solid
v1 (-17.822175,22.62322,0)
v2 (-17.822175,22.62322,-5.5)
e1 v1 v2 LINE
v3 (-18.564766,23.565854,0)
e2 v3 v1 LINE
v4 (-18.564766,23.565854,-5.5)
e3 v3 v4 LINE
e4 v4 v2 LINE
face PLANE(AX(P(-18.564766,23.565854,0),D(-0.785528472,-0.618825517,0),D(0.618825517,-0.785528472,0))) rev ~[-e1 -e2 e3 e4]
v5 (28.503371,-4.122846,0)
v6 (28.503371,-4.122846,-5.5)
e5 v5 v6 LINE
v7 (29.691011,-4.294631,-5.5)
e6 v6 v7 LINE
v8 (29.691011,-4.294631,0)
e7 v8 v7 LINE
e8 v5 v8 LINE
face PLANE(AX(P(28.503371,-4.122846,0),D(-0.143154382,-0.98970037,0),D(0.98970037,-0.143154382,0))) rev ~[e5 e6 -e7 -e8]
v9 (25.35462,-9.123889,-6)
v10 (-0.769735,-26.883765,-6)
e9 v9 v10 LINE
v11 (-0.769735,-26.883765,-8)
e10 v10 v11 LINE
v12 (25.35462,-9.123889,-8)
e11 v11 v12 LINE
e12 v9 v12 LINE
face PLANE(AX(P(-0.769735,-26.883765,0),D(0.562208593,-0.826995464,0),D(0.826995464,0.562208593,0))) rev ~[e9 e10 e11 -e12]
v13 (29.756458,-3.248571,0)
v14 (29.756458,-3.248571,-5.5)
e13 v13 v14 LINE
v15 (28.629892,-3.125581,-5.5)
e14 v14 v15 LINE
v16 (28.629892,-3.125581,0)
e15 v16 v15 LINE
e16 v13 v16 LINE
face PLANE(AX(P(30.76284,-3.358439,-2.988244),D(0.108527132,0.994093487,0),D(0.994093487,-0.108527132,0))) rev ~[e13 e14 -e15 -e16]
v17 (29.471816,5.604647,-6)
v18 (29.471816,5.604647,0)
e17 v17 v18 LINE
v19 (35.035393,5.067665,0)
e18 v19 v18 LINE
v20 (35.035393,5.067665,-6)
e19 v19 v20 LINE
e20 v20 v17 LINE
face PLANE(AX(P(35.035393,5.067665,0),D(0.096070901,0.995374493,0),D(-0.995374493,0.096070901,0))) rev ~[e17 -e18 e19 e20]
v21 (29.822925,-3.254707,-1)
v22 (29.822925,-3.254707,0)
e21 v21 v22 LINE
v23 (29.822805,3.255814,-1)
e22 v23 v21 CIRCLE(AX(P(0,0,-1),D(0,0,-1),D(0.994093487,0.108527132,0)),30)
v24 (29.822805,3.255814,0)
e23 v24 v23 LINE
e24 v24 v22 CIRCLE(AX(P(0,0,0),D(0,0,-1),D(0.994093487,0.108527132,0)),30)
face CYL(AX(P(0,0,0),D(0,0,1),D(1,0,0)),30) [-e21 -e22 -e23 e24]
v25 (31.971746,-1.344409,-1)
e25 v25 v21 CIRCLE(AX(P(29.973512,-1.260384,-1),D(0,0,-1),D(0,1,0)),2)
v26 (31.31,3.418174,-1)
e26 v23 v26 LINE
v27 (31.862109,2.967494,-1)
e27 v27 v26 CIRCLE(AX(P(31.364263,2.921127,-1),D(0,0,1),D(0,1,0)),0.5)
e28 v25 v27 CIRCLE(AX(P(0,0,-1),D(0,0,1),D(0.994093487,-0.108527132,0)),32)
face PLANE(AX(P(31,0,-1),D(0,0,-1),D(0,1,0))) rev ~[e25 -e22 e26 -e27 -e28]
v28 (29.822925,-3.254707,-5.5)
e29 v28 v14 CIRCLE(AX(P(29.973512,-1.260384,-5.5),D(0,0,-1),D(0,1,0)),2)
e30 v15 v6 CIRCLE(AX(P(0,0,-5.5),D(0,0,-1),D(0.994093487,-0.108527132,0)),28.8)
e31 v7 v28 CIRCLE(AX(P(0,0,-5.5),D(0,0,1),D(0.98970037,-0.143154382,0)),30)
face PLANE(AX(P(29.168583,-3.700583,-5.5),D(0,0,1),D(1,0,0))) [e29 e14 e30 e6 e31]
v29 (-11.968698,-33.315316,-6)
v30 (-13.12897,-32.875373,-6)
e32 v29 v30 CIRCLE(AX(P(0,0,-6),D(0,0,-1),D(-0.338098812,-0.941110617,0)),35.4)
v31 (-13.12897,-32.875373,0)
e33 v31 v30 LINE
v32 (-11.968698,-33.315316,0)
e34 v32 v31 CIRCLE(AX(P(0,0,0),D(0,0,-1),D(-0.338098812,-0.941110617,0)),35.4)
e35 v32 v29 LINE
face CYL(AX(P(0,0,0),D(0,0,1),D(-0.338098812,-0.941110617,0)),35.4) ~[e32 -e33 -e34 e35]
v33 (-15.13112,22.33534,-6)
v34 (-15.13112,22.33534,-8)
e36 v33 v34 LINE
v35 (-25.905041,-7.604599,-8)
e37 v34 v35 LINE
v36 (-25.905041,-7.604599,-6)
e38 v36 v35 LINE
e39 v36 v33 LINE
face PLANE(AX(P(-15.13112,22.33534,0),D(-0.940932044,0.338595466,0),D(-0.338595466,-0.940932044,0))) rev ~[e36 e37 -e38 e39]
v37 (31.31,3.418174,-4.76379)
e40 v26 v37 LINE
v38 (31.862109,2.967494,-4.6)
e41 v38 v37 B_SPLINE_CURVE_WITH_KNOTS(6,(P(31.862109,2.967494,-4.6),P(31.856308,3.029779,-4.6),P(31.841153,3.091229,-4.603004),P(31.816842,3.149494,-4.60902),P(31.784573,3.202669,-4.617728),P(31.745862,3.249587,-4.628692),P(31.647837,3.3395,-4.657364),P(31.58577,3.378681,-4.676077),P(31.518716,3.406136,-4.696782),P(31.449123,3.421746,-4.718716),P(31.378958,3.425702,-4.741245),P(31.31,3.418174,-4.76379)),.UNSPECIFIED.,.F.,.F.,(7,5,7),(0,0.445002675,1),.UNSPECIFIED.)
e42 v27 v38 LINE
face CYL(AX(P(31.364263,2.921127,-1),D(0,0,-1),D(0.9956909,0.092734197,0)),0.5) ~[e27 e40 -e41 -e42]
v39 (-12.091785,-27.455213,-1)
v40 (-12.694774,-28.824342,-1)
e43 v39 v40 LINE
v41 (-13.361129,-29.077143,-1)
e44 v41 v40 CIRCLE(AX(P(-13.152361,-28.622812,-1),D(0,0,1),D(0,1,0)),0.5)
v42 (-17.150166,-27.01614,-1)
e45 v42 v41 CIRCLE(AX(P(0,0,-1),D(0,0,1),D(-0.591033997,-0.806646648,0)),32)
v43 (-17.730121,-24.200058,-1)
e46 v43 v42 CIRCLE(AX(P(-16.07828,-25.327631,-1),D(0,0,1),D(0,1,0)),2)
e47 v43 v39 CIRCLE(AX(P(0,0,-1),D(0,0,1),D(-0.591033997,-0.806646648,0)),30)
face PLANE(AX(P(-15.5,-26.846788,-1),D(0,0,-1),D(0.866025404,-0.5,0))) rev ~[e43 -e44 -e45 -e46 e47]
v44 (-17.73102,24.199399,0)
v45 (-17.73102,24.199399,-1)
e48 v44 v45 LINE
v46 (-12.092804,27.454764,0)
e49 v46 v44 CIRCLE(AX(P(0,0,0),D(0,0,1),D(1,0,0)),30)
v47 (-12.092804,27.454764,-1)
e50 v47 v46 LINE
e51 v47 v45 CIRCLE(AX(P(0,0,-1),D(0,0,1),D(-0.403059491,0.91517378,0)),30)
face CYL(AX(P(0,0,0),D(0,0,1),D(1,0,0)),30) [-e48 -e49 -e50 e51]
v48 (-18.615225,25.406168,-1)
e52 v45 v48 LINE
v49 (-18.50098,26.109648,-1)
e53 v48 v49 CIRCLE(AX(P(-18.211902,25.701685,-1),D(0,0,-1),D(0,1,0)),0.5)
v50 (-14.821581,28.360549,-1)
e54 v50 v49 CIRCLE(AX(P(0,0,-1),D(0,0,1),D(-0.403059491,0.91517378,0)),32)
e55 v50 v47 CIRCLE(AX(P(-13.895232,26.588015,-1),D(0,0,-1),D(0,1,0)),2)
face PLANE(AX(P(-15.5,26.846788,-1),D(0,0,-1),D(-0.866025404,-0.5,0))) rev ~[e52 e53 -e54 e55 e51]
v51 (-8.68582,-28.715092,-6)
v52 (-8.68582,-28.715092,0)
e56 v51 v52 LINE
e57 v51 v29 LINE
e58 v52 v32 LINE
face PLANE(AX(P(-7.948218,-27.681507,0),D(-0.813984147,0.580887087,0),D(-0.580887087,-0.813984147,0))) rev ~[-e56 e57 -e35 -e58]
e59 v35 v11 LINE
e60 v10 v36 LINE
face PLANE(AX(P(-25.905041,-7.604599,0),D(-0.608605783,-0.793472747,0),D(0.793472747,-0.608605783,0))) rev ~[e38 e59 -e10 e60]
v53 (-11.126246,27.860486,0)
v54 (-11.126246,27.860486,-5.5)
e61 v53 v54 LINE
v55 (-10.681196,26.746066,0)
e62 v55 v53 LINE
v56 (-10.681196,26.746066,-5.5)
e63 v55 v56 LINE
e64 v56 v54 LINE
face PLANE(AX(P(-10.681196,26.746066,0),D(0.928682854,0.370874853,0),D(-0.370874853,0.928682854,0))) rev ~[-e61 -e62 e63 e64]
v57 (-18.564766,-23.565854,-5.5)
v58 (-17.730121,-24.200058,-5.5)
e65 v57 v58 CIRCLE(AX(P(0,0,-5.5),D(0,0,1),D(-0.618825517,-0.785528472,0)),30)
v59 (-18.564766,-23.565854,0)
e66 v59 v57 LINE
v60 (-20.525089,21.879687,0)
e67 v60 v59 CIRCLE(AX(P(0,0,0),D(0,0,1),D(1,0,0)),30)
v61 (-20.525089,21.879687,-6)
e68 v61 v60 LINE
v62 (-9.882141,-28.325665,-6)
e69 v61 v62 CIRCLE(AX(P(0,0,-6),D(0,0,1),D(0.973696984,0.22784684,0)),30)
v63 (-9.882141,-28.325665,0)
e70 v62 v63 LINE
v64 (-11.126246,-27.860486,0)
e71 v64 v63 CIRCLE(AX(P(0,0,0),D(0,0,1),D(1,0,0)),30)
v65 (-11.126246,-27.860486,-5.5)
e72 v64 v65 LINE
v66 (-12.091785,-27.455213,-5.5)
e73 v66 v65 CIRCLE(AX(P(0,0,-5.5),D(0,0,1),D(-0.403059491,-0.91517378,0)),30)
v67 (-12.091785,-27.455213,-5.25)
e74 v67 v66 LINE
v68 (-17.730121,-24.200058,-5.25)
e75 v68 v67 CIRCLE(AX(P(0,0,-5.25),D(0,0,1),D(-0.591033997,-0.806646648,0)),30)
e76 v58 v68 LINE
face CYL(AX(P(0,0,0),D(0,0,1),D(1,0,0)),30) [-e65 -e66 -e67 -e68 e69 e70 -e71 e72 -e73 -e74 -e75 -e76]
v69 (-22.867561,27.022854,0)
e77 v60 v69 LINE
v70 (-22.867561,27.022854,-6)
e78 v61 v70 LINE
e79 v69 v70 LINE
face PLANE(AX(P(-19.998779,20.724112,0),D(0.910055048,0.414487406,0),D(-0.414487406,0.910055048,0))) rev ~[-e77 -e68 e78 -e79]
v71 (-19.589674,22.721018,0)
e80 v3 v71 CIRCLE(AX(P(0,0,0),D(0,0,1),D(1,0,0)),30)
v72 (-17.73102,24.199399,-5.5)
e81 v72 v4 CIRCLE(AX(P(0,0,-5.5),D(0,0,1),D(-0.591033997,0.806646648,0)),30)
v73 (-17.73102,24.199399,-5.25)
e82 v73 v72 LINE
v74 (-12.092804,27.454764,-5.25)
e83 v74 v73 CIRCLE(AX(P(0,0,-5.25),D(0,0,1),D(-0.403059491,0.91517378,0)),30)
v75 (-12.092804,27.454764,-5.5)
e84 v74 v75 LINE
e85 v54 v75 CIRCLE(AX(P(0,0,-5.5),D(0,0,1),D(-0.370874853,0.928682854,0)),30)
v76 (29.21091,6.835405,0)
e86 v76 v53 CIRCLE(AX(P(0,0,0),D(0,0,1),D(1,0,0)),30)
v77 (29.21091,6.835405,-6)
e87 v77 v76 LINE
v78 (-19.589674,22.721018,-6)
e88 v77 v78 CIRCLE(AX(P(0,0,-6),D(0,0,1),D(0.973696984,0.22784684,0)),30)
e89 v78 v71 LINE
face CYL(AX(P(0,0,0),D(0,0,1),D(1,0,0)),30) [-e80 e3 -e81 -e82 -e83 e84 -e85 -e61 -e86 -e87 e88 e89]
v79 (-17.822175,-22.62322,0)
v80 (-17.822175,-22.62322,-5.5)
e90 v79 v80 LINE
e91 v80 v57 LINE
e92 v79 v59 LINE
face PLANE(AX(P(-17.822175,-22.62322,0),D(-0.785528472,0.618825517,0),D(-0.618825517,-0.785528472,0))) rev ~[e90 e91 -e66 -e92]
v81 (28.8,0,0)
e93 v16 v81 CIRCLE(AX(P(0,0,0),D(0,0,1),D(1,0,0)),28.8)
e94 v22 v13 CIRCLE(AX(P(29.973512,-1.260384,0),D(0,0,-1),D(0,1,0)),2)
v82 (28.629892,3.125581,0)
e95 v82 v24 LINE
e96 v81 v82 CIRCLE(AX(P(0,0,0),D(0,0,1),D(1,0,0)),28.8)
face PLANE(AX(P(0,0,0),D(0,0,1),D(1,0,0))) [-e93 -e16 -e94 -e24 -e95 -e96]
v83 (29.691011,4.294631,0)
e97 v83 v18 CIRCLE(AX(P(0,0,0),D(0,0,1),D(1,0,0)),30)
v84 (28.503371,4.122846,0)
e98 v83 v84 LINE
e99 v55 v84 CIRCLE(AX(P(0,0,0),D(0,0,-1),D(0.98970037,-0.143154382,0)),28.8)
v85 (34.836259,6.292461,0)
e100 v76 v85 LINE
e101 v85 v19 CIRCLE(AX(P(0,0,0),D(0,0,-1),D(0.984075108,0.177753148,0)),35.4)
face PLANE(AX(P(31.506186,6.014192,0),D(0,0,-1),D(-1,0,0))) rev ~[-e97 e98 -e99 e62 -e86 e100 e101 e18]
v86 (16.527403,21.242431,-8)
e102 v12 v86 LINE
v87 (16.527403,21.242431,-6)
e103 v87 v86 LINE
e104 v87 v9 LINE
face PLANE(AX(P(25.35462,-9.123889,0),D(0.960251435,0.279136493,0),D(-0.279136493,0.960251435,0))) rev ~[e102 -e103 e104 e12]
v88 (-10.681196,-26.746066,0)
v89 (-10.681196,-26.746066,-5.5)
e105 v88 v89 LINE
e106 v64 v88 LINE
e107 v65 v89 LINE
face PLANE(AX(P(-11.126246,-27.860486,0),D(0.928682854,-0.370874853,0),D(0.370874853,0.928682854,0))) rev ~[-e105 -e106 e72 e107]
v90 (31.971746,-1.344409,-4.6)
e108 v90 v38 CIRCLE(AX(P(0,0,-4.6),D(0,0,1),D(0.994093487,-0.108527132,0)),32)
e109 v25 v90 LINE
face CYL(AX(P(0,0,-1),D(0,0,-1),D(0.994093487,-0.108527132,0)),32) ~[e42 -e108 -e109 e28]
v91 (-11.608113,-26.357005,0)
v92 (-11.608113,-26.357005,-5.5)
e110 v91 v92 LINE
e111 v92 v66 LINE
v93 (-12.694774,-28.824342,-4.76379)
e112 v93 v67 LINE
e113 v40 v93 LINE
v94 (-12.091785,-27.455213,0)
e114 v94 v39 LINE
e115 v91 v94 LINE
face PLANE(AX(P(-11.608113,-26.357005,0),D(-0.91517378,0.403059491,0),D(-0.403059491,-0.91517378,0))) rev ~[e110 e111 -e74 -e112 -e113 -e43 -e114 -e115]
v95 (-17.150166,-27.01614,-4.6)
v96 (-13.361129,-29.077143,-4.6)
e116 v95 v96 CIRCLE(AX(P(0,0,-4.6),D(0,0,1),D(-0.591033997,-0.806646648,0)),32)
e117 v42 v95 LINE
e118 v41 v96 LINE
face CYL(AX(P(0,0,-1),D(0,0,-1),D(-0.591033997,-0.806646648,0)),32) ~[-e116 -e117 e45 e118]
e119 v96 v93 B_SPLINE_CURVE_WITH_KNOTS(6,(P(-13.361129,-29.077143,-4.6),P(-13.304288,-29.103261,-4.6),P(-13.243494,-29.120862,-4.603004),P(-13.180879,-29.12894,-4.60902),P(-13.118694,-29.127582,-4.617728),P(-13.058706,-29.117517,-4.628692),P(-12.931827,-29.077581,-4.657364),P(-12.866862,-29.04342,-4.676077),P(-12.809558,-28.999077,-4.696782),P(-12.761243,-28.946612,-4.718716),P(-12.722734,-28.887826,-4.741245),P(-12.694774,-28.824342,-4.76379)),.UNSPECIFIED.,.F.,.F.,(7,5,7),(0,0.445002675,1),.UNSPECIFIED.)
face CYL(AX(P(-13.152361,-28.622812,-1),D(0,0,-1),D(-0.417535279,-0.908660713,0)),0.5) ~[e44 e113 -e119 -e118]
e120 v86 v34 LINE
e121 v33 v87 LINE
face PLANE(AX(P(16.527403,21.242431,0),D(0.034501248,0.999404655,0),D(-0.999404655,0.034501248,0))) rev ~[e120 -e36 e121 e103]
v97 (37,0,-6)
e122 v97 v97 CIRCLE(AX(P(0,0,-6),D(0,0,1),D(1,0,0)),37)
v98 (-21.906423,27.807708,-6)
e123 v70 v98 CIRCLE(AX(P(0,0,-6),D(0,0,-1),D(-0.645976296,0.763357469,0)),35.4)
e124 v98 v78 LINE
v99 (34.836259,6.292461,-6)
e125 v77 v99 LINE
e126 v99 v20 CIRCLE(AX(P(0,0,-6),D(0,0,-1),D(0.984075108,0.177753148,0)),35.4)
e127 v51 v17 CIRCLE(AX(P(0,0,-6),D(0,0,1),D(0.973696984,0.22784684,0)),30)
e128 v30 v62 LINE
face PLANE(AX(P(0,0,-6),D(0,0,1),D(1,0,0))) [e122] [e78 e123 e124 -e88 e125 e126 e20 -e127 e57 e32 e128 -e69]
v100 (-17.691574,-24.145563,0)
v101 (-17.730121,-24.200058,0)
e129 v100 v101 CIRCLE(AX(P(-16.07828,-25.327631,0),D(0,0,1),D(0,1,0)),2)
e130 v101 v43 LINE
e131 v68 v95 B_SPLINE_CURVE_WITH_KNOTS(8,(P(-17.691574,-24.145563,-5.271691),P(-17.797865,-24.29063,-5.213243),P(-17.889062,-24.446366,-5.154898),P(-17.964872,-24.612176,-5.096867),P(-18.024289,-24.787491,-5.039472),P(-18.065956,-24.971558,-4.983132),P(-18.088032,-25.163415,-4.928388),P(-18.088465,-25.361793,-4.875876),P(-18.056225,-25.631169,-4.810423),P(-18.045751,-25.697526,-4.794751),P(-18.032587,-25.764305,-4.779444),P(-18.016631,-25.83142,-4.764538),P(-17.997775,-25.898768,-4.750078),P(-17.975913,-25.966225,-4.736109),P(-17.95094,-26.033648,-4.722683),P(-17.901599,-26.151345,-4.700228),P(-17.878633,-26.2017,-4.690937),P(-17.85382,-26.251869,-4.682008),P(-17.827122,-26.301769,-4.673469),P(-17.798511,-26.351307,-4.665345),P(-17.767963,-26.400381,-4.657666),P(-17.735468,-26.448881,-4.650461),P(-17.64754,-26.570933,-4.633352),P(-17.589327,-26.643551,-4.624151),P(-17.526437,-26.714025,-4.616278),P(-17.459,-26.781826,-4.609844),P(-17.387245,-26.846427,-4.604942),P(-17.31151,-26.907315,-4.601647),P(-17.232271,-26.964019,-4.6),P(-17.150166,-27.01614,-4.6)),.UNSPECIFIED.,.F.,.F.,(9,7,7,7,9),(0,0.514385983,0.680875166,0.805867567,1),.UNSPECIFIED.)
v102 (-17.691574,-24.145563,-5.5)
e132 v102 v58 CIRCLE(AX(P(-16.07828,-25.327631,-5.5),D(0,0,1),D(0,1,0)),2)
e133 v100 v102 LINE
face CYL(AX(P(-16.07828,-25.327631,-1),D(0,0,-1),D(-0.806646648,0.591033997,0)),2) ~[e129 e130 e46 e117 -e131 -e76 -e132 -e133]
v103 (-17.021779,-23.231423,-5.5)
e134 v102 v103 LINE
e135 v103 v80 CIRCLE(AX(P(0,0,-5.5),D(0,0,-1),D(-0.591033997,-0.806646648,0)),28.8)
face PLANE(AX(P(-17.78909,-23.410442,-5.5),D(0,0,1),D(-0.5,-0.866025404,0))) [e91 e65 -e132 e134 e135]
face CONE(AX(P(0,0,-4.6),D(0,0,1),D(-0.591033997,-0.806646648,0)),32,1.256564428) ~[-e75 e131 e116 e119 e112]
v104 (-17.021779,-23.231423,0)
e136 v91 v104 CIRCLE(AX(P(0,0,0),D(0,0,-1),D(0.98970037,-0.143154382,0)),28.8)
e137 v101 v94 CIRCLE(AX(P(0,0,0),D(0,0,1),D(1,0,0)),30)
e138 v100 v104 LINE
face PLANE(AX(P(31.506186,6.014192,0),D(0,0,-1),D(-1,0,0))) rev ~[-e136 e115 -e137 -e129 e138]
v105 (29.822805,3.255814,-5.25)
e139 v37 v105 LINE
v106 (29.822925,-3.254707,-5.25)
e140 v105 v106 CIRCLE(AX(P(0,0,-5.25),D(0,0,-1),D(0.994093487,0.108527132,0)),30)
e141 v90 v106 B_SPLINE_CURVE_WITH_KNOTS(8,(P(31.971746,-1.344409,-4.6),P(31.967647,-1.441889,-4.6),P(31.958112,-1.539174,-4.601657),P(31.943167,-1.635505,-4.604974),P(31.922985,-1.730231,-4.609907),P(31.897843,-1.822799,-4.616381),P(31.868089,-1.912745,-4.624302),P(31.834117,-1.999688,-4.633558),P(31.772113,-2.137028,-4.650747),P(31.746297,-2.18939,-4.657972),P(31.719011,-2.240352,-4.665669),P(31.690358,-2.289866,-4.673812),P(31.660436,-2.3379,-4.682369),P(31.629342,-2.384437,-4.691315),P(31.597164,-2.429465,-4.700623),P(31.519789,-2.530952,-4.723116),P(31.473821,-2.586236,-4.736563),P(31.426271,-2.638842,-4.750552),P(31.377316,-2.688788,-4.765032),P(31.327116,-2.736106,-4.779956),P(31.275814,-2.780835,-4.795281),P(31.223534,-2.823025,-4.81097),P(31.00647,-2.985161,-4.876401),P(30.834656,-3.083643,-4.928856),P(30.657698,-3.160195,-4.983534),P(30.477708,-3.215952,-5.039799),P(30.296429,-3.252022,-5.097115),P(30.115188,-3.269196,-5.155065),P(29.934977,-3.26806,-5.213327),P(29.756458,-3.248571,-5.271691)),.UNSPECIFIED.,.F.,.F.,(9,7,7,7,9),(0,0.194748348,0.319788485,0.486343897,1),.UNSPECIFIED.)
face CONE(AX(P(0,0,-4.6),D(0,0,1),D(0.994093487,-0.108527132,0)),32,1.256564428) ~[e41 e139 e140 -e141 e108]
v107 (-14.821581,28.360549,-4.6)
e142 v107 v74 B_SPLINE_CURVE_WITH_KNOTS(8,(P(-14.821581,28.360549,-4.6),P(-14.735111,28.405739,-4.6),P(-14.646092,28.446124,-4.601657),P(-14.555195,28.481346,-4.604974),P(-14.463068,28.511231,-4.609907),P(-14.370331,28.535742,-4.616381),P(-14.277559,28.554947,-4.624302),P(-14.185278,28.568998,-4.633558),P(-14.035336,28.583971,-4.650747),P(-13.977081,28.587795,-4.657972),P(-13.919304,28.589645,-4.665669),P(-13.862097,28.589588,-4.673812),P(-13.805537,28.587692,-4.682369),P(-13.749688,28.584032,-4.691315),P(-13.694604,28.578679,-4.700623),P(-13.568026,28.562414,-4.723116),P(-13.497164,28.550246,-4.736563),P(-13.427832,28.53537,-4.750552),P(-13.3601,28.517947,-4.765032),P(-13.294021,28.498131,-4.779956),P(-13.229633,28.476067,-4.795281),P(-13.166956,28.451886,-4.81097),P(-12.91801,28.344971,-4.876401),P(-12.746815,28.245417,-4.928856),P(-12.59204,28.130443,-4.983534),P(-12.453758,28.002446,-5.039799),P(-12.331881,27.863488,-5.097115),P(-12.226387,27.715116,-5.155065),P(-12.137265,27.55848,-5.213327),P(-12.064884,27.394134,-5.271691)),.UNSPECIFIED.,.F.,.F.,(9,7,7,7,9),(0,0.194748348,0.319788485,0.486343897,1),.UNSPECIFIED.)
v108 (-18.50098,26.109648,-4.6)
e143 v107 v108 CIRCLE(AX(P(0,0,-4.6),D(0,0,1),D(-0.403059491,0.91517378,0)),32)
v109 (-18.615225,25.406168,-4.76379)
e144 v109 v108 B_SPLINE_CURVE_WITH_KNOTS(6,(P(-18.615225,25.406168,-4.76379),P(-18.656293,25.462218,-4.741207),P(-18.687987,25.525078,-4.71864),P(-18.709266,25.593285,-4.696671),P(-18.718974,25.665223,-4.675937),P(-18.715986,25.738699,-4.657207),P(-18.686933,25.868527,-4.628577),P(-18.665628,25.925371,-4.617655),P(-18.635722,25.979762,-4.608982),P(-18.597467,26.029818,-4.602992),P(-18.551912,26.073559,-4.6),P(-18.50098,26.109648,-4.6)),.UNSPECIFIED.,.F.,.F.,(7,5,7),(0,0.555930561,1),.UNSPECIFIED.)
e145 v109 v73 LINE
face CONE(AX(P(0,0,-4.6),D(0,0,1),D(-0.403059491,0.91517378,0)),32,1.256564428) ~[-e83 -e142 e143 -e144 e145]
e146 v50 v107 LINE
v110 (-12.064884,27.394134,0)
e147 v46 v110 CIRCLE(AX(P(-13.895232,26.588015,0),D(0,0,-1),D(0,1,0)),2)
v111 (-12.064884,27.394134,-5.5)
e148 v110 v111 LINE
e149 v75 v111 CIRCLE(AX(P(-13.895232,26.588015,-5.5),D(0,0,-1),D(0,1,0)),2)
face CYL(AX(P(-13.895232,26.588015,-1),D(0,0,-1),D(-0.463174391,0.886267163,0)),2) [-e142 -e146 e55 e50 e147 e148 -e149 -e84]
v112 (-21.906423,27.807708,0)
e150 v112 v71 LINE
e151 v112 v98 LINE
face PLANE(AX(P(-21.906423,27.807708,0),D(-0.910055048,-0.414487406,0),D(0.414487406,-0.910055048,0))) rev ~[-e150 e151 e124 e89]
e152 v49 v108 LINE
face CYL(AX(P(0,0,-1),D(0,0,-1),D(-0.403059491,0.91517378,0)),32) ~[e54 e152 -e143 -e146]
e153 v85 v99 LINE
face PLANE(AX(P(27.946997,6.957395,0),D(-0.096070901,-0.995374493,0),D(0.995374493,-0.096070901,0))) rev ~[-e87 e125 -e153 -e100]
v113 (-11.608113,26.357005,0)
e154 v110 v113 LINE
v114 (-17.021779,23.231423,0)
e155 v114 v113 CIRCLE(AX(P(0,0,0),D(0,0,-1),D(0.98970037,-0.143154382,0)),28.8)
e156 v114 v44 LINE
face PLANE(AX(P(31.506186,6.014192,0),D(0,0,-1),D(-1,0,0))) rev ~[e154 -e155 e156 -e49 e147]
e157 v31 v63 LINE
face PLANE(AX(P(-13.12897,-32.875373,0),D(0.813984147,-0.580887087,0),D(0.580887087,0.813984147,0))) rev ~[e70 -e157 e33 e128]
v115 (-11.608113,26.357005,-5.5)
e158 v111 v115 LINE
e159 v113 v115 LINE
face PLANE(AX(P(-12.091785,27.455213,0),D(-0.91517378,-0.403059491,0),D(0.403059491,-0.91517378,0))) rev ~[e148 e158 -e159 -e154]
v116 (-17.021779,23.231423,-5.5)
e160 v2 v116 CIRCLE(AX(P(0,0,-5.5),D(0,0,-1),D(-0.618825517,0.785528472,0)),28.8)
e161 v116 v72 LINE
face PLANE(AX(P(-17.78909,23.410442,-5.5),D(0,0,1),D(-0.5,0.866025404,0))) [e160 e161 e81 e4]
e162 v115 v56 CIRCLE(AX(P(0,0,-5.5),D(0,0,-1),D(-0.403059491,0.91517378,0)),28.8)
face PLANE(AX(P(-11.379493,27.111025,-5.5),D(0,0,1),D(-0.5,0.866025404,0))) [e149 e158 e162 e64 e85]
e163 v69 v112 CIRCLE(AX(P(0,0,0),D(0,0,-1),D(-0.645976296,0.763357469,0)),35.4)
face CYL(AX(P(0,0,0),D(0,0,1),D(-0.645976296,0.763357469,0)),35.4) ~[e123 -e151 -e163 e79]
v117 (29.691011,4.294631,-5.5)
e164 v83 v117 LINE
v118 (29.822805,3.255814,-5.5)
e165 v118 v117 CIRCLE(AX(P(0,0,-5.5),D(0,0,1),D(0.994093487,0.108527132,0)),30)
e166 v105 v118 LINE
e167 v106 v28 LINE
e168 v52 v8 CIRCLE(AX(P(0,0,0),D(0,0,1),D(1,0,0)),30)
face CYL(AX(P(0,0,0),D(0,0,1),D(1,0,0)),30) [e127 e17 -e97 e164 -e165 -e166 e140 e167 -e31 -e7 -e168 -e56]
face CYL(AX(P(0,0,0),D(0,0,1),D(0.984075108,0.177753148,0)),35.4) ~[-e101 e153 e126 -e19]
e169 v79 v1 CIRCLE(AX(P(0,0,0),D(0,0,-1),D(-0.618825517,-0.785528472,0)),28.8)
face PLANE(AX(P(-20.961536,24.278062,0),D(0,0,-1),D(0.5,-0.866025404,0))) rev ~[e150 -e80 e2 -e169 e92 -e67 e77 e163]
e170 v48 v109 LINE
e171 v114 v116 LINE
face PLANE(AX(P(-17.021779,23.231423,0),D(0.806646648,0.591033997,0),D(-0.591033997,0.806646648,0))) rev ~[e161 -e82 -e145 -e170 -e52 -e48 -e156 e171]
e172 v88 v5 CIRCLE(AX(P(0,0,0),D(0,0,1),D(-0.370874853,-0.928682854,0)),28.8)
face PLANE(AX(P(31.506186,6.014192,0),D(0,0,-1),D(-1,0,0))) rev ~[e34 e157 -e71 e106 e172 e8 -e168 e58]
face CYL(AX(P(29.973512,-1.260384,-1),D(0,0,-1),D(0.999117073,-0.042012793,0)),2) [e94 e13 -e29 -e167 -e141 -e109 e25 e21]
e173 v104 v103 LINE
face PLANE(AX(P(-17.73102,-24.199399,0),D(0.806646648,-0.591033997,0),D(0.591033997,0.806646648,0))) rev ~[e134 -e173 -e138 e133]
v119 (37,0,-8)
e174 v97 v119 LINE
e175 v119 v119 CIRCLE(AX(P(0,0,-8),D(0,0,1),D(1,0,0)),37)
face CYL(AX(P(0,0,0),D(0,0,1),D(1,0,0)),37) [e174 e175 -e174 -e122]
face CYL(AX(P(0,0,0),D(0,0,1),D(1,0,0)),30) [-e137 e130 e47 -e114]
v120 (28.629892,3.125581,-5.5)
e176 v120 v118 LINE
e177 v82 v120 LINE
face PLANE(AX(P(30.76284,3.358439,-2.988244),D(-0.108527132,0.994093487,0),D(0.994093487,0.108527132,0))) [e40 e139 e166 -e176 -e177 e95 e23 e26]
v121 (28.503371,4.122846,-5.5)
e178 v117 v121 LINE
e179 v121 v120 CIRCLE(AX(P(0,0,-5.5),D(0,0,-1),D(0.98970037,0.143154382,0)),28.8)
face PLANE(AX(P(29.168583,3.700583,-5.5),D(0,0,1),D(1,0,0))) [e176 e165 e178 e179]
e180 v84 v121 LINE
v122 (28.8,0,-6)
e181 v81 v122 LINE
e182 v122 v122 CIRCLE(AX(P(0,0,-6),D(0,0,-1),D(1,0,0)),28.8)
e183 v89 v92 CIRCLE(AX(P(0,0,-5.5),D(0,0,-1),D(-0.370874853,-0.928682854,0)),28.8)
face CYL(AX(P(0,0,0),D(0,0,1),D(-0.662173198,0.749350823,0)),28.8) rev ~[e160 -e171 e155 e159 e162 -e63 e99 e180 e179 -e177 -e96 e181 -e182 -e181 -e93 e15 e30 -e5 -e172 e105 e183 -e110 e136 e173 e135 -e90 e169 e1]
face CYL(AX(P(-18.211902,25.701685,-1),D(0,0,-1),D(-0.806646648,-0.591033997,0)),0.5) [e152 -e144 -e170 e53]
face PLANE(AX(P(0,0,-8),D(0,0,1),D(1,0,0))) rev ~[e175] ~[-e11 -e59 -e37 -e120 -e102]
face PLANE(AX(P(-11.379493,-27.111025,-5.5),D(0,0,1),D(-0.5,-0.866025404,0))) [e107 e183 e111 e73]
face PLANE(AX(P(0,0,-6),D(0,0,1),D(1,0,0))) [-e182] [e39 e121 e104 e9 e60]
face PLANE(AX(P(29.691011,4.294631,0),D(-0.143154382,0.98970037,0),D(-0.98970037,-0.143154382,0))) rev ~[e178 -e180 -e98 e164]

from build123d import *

# Parameters (mm, degrees)
SKETCH55_R               = 37
BOSS_EXTRUDE17_DEPTH     = 8
SKETCH56_R               = 37
SKETCH56_R_2             = 30
SKETCH56_R_3             = 28.8
CUT_EXTRUDE20_DEPTH      = 6
CUT_EXTRUDE21_DEPTH      = 5.5
FILLET1_R                = 0.5
FILLET2_R                = 2
BOSS_EXTRUDE18_START     = 6
BOSS_EXTRUDE18_DEPTH     = 6
CIRPATTERN1_COUNT        = 3
FILLET1_OF_CIRPATTERN1_R = 0.5
FILLET2_OF_CIRPATTERN1_R = 2


with BuildPart() as part:
    # Sketch55 → Boss-Extrude17 (new body)
    with BuildSketch(Plane.XY):
        Circle(SKETCH55_R)
        Polygon((-15.131119551888249, 22.33533974306702), (-25.90504070234881, -7.604599443277265), (-0.7697350404796751, -26.883764916532357), (25.354620105449243, -9.123888866834614), (16.52740298769779, 21.24243055544057), align=None, mode=Mode.SUBTRACT)
    extrude(amount=-BOSS_EXTRUDE17_DEPTH)

    # Sketch56 → Cut-Extrude20 (cut)
    # profile 1 of 2: a face of its own
    with BuildSketch(Plane.XY):
        Circle(SKETCH56_R)
        Circle(SKETCH56_R_2, mode=Mode.SUBTRACT)
    # profile 2 of 2: a face of its own
    with BuildSketch(Plane.XY):
        Circle(SKETCH56_R_3)
    extrude(amount=-CUT_EXTRUDE20_DEPTH, mode=Mode.SUBTRACT)

    # Sweep1: sweep along a path in Sketch58
    with BuildLine(Plane.XY.offset(-1)) as sweep1_path:
        ThreePointArc((32.05951496825865, -3.5), (32.25, 0), (32.05951496825865, 3.5))
    # Sketch59 → Sweep1 (sweep)
    with BuildSketch(Plane(origin=(0, 0, 0), x_dir=(1, 0, 0), z_dir=(0, 1, 0))):
        Polygon((32, 1.0000000000000009), (32, 4.6), (30, 5.25), (30, 1.0000000000000009), align=None)
    sweep1 = sweep(path=sweep1_path.line)

    # Sketch60 → Cut-Extrude21 (cut)
    with BuildSketch(Plane.XY):
        with BuildLine():
            Line((29.691011106511933, 4.294631471149185), (28.503370662251456, 4.122846212303217))
            ThreePointArc((28.503370662251456, 4.122846212303217), (28.570983048615947, 3.624765873225473), (28.629892436770504, 3.125581395348848))
            Line((28.629892436770504, 3.125581395348848), (29.822804621635946, 3.255813953488383))
            ThreePointArc((29.822804621635946, 3.255813953488383), (29.761440675641612, 3.7757977846098676), (29.691011106511933, 4.294631471149185))
        make_face()
        with BuildLine():
            Line((29.822804621635946, -3.255813953488384), (28.629892436770504, -3.1255813953488487))
            ThreePointArc((28.629892436770504, -3.1255813953488487), (28.57098304861595, -3.6247658732254733), (28.503370662251456, -4.122846212303217))
            Line((28.503370662251456, -4.122846212303217), (29.691011106511933, -4.294631471149185))
            ThreePointArc((29.691011106511933, -4.294631471149185), (29.761440675641612, -3.7757977846098676), (29.822804621635946, -3.255813953488384))
        make_face()
    cut_extrude21 = extrude(amount=-CUT_EXTRUDE21_DEPTH, mode=Mode.SUBTRACT)

    # Fillet1
    fillet1_edges = [part.edges().sort_by_distance(p)[0] for p in [
        (31.810991596411686, 3.472868217054266, -2.8000000000000003),
    ]]
    fillet(fillet1_edges, radius=FILLET1_R)

    # Fillet2
    fillet2_edges = [part.edges().sort_by_distance(p)[0] for p in [
        (31.810991596411686, -3.4728682170542657, -2.8000000000000003),
    ]]
    fillet(fillet2_edges, radius=FILLET2_R)

    # Sketch62 → Boss-Extrude18 (add)
    with BuildSketch(Plane.XY.offset(-6).offset(BOSS_EXTRUDE18_START)):
        with BuildLine():
            Line((35.035393105684086, 5.067665135956038), (28.225251300389694, 5.724961923877751))
            ThreePointArc((28.225251300389694, 5.724961923877751), (28.092883468127496, 6.342704348005581), (27.946997326196957, 6.957394659607891))
            Line((27.946997326196957, 6.957394659607891), (34.836258824834346, 6.29246144915893))
            ThreePointArc((34.836258824834346, 6.29246144915893), (34.94119298731927, 5.680935893223171), (35.035393105684086, 5.067665135956038))
        make_face()
    boss_extrude18 = extrude(amount=-BOSS_EXTRUDE18_DEPTH)

    # CirPattern1: Sweep1, Cut-Extrude21, Boss-Extrude18 ×3 about axis
    cirpattern1_axis = Axis((-3.9e-16, -9.2e-16, 0), (0, 0, 1))
    add([sweep1.rotate(cirpattern1_axis, i * 360 / CIRPATTERN1_COUNT) for i in range(1, CIRPATTERN1_COUNT)])
    add([cut_extrude21.rotate(cirpattern1_axis, i * 360 / CIRPATTERN1_COUNT) for i in range(1, CIRPATTERN1_COUNT)], mode=Mode.SUBTRACT)
    add([boss_extrude18.rotate(cirpattern1_axis, i * 360 / CIRPATTERN1_COUNT) for i in range(1, CIRPATTERN1_COUNT)])

    # Fillet1 of CirPattern1
    fillet1_of_cirpattern1_edges = [part.edges().sort_by_distance(p)[0] for p in [
        (-18.9130878981704, 25.812692733538686, -2.8000000000000003),
        (-12.897903698241294, -29.28556095059294, -2.8000000000000003),
    ]]
    fillet(fillet1_of_cirpattern1_edges, radius=FILLET1_OF_CIRPATTERN1_R)

    # Fillet2 of CirPattern1
    fillet2_of_cirpattern1_edges = [part.edges().sort_by_distance(p)[0] for p in [
        (-12.897903698241274, 29.28556095059295, -2.8000000000000003),
        (-18.91308789817042, -25.81269273353867, -2.8000000000000003),
    ]]
    fillet(fillet2_of_cirpattern1_edges, radius=FILLET2_OF_CIRPATTERN1_R)


solid = part.part
